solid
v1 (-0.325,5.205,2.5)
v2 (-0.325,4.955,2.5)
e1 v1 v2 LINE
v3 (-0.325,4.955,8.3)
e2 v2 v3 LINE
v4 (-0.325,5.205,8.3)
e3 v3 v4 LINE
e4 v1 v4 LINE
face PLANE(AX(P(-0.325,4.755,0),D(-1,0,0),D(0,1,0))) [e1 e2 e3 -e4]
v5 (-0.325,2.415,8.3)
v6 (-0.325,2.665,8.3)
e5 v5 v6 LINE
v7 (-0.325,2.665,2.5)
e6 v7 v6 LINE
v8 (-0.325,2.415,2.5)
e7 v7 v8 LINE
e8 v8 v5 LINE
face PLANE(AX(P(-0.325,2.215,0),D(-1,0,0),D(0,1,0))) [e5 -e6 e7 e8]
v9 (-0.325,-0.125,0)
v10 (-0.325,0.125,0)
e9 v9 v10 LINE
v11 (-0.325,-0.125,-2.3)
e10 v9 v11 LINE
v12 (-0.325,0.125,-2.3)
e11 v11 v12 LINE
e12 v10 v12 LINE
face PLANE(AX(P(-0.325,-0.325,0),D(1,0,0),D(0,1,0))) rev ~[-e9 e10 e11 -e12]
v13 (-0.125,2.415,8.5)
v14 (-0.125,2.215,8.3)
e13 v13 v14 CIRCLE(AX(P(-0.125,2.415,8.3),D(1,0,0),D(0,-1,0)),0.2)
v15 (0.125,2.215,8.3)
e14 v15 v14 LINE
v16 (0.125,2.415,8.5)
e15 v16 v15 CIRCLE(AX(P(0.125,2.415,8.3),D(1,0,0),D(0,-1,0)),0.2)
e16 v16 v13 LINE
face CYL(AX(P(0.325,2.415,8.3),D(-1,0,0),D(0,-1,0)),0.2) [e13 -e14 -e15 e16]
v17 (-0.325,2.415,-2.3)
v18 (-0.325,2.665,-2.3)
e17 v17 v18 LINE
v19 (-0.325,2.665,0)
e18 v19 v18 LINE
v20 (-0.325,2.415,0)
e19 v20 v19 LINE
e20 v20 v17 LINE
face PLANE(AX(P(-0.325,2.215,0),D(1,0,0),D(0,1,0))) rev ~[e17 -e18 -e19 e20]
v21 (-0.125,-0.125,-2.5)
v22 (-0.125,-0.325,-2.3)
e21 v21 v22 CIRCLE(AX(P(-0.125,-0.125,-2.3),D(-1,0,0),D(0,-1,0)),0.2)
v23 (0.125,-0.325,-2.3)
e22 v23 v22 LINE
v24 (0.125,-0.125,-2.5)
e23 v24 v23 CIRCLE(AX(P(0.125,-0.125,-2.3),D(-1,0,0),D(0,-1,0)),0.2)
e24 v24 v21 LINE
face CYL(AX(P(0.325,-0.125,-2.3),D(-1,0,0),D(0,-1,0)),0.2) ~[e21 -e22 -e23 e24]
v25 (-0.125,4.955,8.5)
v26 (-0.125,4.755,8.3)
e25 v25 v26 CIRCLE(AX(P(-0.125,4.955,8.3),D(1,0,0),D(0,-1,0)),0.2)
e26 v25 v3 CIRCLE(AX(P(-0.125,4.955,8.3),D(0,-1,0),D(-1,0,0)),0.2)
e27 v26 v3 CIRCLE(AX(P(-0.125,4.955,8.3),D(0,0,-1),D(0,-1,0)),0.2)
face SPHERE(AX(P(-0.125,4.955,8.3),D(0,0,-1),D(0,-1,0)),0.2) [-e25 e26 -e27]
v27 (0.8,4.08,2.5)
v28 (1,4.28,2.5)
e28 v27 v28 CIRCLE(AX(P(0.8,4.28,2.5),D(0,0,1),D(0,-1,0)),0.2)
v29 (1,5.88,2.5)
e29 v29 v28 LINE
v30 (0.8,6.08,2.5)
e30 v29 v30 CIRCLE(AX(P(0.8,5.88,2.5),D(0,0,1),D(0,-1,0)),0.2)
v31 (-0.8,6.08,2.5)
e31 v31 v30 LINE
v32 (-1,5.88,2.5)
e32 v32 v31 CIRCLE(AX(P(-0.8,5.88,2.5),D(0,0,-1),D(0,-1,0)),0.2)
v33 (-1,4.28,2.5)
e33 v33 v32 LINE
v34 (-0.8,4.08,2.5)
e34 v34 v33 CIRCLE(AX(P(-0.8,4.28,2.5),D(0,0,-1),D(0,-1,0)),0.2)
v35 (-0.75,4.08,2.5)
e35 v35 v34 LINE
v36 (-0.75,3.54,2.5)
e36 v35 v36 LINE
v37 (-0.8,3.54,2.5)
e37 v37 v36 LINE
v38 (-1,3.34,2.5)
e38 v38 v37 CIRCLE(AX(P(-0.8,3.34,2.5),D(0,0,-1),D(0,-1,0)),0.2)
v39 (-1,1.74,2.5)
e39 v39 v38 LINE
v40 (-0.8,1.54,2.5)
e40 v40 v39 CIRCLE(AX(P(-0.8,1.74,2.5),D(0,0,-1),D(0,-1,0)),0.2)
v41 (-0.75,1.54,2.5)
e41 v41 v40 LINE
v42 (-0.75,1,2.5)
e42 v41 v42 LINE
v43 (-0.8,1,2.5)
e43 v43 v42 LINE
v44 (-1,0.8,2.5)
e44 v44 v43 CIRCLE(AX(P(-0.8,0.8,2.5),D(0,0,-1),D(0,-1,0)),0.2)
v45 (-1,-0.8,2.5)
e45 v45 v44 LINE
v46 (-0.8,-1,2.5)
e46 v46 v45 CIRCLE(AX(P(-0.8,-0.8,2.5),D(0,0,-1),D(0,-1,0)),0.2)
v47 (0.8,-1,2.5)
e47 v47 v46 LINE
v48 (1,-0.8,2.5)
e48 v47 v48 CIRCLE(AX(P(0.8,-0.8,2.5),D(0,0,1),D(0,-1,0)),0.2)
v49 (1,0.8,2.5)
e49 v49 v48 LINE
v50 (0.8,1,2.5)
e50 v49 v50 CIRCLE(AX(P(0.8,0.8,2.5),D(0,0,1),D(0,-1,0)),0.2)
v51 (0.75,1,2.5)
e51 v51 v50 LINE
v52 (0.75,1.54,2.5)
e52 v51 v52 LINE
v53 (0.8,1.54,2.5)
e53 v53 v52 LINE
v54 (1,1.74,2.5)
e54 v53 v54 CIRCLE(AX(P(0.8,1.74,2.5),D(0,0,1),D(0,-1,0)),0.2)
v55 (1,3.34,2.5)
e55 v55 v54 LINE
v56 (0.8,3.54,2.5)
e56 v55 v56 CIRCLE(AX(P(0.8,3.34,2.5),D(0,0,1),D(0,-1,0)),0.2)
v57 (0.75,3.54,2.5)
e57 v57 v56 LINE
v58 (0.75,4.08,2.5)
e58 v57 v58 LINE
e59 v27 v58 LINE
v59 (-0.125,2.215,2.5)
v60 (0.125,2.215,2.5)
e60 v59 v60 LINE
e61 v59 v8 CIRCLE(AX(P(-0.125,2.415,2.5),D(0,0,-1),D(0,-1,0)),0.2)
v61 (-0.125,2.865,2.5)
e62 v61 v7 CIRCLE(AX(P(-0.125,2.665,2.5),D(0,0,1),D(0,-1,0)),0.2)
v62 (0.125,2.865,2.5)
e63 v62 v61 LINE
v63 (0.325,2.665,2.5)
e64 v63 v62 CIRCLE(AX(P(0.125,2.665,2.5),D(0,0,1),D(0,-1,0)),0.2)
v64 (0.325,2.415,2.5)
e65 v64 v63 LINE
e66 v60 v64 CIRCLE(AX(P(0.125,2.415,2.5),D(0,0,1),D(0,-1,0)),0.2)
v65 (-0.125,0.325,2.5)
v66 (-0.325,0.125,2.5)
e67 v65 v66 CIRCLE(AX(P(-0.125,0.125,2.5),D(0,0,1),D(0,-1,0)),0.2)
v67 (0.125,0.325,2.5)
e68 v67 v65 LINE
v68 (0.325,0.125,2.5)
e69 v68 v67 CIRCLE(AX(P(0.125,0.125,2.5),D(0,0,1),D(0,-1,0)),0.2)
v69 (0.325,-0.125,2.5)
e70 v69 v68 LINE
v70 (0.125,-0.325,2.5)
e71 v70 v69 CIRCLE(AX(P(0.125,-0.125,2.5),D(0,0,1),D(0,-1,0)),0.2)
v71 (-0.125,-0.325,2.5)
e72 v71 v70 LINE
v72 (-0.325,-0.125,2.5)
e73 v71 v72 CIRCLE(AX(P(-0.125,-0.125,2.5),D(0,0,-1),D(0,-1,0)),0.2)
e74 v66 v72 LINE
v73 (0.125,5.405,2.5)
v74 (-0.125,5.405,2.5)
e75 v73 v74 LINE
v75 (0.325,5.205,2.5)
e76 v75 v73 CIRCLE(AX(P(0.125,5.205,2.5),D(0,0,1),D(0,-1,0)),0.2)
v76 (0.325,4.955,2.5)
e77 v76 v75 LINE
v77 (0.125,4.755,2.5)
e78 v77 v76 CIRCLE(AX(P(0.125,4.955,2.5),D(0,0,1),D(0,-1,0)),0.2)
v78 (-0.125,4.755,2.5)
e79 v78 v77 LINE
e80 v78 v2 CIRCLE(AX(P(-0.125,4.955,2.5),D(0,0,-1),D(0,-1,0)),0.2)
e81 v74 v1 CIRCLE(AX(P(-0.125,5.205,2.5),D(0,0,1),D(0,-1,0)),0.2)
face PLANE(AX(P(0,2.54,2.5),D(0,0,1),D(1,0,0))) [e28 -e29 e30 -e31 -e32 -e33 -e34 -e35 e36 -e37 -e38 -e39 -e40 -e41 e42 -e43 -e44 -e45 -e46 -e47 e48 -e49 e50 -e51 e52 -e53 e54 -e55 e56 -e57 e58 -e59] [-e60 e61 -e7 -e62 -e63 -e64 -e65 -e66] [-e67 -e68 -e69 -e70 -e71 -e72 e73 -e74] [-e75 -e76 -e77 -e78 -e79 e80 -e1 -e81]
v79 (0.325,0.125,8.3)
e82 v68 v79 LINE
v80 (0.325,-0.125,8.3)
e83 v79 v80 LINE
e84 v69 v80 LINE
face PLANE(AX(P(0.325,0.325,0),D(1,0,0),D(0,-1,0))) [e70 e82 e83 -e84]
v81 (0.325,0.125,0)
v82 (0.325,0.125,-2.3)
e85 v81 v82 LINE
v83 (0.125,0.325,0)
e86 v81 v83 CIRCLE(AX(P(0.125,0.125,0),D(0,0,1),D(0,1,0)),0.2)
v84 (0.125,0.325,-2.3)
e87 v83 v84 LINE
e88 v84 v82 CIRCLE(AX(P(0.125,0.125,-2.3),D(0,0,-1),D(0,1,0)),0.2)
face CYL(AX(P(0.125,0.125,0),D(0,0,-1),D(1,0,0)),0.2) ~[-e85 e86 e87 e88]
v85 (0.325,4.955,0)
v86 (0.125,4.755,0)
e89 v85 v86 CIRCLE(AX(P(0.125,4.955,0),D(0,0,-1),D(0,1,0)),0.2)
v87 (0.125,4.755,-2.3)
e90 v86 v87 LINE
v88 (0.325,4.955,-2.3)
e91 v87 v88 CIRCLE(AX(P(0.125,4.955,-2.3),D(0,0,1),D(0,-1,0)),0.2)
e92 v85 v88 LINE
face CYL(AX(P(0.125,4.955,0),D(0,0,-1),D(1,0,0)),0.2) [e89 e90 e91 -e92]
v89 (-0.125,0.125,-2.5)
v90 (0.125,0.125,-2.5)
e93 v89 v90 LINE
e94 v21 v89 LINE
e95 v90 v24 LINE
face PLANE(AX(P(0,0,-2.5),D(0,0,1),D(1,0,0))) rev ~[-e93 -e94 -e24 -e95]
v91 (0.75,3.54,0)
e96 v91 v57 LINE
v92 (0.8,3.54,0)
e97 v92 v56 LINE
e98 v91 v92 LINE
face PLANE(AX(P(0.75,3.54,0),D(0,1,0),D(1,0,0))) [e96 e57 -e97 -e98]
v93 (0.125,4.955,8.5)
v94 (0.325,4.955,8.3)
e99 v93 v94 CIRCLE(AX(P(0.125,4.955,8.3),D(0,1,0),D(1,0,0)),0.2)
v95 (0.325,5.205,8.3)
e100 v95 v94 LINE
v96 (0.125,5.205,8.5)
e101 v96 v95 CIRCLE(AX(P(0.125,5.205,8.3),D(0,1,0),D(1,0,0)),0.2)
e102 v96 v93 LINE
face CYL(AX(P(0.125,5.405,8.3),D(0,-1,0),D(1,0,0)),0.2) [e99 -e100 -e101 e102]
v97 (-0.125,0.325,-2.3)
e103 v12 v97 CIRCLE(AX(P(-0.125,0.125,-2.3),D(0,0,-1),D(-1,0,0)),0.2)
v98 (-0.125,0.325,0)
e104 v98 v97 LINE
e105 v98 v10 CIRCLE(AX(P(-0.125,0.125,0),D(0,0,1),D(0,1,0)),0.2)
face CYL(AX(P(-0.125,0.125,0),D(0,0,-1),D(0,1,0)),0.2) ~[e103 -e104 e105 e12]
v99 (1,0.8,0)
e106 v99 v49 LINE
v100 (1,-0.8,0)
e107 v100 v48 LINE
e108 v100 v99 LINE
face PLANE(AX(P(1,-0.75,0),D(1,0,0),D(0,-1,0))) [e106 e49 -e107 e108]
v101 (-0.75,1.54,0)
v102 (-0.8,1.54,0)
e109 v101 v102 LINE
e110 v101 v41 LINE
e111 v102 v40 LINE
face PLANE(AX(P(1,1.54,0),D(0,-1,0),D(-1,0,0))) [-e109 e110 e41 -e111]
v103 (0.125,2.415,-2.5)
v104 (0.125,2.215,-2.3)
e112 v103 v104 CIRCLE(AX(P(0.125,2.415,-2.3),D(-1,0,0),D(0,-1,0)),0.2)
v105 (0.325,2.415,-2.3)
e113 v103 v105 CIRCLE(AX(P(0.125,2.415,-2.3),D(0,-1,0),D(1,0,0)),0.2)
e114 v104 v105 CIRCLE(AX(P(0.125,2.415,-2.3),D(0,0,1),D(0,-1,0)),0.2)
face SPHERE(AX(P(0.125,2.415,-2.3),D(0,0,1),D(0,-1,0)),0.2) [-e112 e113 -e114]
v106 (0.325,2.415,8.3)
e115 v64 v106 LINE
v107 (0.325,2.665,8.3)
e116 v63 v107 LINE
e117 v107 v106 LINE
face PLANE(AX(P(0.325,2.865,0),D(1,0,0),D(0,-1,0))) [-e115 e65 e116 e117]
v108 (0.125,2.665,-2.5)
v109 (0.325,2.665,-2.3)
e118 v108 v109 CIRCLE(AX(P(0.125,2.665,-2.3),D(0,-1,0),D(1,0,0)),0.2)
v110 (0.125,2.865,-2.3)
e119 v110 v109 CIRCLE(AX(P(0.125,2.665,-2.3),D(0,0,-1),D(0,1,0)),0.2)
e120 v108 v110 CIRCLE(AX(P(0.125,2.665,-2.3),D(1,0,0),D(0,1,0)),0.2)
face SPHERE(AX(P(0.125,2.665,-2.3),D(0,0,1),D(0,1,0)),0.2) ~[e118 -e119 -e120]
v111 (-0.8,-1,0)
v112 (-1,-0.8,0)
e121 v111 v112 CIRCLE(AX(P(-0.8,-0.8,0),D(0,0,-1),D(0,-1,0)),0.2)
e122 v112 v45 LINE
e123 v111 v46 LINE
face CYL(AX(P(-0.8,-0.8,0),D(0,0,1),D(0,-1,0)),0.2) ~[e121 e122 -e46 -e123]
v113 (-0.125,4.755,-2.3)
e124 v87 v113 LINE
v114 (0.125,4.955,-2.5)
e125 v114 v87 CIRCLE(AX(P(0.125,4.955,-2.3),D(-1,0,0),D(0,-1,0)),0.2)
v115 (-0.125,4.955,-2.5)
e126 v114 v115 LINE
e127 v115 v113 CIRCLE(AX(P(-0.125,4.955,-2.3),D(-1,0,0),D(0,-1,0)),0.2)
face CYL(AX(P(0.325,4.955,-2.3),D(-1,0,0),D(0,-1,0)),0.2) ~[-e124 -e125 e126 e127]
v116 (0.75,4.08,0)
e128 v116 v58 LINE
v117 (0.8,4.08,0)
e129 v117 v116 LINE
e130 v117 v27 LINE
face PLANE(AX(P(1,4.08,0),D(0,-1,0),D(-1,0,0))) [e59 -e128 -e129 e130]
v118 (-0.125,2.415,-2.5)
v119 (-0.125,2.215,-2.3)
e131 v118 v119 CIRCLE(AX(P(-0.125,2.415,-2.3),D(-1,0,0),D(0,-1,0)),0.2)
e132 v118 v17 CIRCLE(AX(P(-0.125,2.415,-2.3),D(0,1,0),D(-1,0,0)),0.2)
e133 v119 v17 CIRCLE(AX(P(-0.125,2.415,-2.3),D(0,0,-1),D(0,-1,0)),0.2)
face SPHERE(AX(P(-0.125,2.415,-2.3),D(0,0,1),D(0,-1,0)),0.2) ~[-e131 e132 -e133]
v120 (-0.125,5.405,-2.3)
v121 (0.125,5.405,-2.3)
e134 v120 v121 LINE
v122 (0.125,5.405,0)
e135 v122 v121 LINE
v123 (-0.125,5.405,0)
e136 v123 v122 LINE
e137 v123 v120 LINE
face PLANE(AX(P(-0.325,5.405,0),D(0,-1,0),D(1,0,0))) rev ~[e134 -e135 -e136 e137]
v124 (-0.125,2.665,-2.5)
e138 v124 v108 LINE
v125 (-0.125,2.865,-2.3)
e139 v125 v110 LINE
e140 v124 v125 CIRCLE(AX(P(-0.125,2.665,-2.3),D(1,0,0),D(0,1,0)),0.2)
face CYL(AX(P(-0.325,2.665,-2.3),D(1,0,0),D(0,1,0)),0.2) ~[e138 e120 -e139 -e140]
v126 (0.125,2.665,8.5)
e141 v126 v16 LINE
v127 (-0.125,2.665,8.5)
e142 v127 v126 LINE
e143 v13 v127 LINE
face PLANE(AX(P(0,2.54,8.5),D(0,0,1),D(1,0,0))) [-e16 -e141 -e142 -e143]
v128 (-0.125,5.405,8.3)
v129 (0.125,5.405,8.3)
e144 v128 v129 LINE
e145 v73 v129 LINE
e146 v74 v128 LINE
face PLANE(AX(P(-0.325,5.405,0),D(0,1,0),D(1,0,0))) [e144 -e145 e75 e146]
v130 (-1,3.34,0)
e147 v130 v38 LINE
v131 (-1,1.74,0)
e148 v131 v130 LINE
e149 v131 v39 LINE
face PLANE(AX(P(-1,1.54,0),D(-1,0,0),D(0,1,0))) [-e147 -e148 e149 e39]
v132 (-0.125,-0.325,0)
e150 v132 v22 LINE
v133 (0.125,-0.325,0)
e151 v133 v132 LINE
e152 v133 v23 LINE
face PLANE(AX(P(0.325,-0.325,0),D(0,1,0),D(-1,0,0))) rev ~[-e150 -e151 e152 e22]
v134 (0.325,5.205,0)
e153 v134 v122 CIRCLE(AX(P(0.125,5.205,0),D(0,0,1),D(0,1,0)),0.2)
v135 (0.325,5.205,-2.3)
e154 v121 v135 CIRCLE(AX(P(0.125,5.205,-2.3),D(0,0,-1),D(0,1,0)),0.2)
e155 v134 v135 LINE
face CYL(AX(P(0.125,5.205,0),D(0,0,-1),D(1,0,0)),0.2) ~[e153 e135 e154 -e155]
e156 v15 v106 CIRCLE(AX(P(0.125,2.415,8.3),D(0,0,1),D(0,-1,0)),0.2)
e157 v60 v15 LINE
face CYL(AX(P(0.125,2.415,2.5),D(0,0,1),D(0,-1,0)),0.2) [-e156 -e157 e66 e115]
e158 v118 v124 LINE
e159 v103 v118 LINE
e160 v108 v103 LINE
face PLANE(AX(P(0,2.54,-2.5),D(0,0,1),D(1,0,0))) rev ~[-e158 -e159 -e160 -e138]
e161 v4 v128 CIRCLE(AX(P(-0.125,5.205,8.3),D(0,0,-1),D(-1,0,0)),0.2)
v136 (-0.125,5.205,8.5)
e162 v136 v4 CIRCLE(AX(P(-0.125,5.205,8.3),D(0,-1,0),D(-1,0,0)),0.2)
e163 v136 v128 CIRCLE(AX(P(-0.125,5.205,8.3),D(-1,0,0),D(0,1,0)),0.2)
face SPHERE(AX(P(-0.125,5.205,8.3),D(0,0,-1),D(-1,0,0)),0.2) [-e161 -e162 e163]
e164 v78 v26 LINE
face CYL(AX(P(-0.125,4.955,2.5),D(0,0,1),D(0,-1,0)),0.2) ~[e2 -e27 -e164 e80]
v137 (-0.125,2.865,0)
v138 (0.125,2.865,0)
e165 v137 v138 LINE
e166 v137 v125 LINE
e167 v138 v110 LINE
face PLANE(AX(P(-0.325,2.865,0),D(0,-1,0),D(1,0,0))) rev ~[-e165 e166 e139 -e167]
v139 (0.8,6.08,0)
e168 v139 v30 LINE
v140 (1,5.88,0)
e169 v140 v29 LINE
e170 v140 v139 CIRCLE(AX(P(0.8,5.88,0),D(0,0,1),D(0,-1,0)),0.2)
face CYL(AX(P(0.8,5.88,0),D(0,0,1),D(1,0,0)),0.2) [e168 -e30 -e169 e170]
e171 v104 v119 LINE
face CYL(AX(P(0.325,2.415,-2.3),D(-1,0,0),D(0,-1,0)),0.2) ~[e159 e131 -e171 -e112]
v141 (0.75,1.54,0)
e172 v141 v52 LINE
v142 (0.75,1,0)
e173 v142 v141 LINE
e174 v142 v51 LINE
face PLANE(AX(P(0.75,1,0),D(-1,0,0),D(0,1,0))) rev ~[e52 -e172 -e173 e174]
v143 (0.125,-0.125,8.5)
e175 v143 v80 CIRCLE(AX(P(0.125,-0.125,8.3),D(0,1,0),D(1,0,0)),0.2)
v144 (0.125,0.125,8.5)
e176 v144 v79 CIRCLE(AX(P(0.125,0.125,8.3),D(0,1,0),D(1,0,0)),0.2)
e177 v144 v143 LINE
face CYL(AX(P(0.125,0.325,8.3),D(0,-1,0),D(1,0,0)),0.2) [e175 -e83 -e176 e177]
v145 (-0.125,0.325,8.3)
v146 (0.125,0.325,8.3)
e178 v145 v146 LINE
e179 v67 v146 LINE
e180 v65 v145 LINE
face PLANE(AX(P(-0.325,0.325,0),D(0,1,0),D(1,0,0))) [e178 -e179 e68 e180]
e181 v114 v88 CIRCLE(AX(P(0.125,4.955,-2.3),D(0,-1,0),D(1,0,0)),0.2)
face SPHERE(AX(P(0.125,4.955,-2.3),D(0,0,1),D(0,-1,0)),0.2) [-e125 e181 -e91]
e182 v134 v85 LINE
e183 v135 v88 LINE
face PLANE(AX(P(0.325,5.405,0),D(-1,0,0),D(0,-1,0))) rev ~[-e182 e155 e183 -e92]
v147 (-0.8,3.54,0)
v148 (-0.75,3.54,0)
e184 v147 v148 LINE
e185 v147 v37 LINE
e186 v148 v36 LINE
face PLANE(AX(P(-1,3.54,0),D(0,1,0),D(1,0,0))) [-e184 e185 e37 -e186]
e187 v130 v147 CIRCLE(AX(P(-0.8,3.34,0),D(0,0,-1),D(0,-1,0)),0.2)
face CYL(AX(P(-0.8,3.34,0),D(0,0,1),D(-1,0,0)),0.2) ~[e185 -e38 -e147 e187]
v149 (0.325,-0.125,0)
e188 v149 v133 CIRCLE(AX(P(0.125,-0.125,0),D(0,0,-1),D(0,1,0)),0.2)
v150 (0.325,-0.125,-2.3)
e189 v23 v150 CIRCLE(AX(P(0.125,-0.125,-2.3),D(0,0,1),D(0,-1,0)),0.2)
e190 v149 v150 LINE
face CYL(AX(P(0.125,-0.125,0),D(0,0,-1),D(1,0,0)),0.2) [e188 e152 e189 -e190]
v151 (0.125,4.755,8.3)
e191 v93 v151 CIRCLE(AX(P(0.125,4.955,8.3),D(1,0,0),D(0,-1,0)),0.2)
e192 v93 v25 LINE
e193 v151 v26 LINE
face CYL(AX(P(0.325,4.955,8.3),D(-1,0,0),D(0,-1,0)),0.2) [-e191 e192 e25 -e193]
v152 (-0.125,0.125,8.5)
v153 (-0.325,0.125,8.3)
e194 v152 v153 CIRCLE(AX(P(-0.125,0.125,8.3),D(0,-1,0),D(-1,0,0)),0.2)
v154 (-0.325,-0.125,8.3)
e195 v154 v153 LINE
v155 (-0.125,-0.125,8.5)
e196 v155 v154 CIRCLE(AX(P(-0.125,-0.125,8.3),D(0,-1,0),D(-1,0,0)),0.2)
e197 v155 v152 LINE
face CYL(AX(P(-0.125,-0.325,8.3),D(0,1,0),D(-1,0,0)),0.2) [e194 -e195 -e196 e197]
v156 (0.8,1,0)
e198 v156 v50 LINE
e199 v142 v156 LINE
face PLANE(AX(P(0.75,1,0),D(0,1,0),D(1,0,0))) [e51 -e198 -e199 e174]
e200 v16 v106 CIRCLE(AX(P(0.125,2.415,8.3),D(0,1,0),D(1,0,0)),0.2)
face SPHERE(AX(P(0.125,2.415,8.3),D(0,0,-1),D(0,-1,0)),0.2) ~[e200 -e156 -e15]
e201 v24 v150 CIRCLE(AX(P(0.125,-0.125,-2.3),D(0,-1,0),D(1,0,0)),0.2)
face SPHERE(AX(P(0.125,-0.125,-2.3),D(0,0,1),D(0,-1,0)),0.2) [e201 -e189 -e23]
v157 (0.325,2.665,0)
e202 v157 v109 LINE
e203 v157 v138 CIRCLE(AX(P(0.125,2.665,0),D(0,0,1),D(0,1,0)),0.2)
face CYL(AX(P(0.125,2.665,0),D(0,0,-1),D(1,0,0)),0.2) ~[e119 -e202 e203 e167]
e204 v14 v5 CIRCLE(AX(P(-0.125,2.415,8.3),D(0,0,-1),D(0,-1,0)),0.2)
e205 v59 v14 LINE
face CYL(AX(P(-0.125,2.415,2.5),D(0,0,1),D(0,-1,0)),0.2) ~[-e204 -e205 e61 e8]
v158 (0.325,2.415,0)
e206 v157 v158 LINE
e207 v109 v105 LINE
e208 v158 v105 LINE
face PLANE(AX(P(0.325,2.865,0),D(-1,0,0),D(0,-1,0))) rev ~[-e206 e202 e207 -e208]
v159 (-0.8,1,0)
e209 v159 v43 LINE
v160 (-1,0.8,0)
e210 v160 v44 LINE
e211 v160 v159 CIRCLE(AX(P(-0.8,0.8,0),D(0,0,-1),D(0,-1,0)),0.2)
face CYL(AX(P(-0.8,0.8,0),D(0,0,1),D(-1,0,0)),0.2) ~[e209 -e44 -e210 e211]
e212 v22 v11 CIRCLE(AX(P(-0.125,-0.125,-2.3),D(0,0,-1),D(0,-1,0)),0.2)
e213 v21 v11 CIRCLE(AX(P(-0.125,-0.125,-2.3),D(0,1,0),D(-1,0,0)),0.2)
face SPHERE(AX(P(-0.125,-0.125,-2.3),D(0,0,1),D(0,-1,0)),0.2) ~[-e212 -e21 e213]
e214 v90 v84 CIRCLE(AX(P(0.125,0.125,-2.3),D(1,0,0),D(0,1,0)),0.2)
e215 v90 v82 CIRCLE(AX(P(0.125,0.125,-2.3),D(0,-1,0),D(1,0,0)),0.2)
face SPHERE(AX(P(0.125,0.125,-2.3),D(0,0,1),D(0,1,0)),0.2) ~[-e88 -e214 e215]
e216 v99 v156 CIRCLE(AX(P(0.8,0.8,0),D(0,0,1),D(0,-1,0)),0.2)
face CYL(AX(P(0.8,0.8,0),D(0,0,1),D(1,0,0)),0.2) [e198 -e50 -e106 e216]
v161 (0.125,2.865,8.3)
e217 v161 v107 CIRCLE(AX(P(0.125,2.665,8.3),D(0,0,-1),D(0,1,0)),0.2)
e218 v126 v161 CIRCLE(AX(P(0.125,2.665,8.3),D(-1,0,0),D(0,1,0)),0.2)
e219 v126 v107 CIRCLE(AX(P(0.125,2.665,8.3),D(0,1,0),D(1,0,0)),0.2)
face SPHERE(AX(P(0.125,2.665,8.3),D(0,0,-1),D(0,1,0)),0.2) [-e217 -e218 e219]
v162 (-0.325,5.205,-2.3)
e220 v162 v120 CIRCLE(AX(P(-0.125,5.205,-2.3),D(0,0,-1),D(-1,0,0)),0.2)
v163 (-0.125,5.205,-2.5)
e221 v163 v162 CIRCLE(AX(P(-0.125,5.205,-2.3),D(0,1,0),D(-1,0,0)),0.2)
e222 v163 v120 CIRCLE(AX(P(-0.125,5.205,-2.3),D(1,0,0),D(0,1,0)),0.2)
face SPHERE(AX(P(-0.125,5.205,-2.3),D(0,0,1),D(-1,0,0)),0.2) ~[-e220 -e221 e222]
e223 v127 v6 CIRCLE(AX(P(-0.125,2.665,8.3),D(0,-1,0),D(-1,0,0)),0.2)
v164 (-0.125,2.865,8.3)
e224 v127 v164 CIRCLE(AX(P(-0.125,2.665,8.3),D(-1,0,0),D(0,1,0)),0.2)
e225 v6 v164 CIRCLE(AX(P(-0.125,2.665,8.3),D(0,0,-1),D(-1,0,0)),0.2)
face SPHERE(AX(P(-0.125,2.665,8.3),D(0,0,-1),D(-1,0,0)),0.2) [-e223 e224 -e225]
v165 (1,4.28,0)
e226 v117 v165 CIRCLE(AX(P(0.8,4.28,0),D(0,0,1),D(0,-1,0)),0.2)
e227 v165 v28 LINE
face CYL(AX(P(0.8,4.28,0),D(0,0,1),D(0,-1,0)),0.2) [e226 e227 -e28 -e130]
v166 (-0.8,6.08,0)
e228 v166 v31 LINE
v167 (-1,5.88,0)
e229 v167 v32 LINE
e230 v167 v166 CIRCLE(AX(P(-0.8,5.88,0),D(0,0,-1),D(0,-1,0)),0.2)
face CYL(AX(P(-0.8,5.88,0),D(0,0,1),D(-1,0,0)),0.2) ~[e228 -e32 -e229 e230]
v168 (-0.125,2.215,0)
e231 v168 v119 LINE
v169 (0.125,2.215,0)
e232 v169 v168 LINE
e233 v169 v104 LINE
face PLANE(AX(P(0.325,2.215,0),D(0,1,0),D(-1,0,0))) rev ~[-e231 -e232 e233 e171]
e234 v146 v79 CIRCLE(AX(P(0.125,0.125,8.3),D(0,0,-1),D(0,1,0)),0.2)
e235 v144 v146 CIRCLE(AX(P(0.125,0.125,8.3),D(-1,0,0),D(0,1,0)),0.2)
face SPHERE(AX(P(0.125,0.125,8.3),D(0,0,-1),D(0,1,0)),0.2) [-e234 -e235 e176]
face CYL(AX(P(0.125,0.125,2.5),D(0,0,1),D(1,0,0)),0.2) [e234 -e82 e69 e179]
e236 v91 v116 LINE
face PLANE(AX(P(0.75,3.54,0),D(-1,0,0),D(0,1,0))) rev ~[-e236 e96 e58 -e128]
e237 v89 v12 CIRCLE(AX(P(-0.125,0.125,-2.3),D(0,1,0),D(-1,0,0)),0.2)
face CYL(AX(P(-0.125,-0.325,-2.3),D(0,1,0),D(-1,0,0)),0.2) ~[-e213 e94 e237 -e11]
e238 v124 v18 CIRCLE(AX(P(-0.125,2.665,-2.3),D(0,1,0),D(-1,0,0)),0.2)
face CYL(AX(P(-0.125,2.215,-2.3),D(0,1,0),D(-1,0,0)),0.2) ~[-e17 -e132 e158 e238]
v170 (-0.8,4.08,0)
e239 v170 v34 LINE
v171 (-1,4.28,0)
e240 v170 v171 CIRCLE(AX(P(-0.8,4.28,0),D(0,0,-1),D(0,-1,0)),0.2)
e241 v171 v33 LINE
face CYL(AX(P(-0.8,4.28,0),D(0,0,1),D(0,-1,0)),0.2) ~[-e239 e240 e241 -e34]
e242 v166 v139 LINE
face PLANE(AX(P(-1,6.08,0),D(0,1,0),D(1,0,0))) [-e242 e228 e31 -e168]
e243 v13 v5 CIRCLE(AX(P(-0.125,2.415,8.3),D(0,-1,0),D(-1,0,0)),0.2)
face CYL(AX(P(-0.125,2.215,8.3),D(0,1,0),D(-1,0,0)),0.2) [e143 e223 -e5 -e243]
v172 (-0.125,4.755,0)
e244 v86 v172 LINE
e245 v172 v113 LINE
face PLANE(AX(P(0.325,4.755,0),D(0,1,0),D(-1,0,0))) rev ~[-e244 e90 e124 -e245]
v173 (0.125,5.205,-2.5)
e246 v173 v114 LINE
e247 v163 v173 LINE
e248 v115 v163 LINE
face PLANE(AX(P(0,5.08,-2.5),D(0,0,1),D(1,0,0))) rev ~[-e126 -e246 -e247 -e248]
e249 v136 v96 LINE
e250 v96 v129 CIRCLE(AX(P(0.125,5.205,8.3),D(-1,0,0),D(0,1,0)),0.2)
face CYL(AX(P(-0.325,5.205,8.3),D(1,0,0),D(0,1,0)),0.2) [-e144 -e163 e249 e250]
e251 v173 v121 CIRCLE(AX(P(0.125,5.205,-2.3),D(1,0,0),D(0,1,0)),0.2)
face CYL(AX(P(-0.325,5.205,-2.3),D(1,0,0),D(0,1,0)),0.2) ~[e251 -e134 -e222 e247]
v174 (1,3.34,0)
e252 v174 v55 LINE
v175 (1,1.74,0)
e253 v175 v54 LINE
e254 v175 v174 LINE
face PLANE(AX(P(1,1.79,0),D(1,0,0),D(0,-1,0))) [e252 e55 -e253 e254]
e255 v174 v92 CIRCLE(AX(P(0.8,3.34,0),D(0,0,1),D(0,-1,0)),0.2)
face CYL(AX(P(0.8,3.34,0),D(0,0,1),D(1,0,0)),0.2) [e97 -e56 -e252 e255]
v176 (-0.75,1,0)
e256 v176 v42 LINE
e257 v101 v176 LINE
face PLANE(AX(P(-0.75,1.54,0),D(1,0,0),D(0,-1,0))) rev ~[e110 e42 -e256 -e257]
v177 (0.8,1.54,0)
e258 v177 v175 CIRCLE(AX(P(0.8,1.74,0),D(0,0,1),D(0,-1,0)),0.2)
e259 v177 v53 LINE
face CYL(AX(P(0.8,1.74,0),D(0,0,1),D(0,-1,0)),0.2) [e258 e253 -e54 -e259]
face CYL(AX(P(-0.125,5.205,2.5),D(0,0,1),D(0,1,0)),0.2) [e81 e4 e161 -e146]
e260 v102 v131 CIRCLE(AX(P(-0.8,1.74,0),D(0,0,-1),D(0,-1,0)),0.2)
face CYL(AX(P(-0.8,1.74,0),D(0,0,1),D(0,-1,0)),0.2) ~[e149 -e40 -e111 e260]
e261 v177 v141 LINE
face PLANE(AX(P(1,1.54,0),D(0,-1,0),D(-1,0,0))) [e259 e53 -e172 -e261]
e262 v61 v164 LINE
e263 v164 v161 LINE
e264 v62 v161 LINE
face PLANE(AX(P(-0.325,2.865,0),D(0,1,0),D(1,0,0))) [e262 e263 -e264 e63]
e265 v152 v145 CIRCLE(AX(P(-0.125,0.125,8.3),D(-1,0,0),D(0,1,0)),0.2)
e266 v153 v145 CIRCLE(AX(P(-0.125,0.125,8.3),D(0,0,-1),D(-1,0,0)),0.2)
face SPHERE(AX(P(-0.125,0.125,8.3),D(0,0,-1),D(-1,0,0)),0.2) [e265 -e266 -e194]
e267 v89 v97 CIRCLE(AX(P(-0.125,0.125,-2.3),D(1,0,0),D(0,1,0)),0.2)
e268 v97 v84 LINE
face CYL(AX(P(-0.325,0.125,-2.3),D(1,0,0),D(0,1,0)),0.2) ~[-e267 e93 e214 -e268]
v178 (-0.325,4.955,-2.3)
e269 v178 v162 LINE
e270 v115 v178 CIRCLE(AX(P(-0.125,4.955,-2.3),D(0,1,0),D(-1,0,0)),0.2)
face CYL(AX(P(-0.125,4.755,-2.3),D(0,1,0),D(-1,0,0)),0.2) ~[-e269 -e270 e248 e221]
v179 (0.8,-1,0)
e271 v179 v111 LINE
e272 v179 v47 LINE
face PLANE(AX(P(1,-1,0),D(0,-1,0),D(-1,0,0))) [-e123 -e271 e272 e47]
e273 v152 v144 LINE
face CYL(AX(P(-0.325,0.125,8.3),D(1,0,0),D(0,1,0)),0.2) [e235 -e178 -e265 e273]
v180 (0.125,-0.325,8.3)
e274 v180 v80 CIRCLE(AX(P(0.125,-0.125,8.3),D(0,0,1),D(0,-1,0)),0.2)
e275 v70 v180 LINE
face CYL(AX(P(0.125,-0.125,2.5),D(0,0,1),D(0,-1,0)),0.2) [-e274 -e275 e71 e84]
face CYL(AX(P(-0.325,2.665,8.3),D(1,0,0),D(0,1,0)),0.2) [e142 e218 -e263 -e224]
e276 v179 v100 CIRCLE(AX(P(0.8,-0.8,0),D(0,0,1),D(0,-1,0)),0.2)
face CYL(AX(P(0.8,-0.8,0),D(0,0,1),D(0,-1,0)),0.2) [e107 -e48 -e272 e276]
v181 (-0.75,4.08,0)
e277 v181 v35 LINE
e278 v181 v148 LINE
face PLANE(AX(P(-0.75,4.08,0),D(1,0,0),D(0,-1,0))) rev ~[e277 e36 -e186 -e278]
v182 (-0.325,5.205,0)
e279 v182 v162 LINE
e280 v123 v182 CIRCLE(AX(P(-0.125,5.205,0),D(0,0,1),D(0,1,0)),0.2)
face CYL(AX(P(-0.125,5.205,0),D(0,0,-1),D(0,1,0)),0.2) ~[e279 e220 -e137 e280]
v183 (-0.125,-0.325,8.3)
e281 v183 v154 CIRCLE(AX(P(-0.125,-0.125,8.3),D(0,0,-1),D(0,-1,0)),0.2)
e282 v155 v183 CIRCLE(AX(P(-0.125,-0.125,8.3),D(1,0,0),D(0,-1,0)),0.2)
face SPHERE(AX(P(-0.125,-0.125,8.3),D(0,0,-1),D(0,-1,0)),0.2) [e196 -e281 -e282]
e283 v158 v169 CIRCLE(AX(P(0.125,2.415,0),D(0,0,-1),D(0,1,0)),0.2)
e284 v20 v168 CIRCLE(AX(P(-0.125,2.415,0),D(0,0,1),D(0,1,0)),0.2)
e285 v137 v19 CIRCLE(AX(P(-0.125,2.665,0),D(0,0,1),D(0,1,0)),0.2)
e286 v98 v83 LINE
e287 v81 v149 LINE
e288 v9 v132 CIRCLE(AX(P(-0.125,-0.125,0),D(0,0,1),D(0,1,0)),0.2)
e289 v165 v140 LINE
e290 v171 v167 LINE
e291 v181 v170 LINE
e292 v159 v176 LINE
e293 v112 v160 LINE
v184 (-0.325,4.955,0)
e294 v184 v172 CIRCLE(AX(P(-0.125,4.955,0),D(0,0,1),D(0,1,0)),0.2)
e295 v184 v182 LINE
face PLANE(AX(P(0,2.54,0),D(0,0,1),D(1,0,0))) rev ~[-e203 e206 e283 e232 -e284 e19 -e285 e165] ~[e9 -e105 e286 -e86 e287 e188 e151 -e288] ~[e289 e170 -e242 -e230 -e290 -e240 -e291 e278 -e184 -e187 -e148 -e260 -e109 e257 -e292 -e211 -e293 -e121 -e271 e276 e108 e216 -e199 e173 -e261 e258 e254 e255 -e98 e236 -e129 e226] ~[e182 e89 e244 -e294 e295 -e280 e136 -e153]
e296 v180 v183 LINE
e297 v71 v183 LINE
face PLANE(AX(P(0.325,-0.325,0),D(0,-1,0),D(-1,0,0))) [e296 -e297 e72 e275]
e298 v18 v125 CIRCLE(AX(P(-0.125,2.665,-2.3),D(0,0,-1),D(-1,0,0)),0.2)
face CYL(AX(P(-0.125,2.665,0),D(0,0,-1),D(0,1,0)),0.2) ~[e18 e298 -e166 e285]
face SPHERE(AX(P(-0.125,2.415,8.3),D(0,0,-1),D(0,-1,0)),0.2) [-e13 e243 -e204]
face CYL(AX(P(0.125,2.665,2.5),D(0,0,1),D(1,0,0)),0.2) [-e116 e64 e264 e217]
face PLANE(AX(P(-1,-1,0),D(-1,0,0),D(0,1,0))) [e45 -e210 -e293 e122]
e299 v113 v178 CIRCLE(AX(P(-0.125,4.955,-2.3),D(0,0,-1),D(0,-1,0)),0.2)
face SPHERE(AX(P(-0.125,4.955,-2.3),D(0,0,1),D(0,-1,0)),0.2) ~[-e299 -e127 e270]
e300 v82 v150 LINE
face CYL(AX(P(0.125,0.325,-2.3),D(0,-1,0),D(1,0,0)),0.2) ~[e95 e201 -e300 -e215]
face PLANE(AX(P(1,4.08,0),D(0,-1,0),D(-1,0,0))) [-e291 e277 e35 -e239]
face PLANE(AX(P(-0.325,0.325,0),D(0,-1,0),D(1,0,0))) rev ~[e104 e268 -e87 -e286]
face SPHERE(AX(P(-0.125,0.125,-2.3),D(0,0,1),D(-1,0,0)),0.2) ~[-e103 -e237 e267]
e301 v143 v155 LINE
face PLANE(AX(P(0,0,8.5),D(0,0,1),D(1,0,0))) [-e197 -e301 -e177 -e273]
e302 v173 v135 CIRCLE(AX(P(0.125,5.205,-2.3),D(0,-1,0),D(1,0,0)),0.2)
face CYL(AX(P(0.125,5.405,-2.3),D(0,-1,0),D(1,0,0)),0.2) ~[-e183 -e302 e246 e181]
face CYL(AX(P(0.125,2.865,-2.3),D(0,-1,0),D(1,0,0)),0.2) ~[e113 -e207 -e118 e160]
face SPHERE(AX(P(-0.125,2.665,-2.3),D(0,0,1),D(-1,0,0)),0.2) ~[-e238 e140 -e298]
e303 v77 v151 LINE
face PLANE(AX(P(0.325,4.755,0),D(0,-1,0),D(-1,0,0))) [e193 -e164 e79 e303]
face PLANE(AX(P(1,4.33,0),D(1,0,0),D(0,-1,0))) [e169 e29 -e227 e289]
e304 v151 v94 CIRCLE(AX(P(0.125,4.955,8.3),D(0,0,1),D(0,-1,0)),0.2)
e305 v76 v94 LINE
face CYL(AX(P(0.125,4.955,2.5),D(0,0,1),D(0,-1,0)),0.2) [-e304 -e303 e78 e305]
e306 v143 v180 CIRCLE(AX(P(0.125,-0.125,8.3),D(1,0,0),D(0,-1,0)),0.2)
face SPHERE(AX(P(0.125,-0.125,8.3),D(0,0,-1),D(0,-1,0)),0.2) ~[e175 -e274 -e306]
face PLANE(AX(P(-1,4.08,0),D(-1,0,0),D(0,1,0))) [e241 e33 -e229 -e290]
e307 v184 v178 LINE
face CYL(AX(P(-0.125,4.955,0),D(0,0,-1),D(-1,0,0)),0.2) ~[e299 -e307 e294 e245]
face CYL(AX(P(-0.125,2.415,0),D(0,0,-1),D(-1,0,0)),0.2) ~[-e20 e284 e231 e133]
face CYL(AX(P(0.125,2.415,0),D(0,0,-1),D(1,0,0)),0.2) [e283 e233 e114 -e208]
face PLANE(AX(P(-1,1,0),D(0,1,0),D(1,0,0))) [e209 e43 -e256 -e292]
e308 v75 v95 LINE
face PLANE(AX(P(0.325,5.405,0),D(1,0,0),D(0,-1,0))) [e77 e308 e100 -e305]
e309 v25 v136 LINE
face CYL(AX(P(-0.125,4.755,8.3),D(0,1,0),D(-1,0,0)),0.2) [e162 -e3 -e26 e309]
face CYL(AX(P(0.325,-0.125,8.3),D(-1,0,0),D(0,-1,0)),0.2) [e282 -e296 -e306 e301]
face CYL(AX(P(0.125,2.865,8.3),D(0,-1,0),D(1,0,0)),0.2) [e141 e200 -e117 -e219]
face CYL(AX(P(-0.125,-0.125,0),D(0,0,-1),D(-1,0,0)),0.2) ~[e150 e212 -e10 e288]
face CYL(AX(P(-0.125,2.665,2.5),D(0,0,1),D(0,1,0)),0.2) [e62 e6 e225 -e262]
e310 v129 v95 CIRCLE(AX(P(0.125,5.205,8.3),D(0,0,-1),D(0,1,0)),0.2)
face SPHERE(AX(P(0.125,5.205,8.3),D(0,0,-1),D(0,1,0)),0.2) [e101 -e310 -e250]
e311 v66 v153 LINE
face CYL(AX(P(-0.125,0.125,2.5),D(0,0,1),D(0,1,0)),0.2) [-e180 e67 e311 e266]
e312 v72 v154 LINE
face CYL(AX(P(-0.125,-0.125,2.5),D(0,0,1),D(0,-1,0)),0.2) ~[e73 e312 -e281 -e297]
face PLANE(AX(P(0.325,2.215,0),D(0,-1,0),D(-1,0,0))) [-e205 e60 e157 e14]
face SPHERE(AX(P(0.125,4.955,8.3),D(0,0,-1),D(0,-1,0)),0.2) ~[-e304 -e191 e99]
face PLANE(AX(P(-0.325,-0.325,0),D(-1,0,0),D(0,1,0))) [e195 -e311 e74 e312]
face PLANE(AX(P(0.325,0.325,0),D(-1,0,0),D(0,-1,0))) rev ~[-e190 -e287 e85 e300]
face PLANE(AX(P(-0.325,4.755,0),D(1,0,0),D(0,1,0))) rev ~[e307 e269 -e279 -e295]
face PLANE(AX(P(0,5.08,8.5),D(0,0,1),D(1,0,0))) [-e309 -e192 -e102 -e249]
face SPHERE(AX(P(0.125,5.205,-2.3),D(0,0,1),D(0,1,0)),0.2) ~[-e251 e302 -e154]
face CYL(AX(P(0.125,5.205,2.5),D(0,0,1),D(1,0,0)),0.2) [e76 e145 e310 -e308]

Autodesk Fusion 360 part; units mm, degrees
sketch "Sketch1" plane through (0, 0, 0) normal (0, 0, 1) x (1, 0, 0)
  line L0 (1, -1) -> (-1, -1)
  line L1 (-1, -1) -> (-1, 1)
  line L2 (-1, 1) -> (1, 1)
  line L3 (1, 1) -> (1, -1)
  line L4 (1, -1) -> (-1, 1) construction
  line L5 (-1, -1) -> (1, 1) construction
  line L6 (0.325, -0.325) -> (-0.325, -0.325)
  line L7 (-0.325, -0.325) -> (-0.325, 0.325)
  line L8 (-0.325, 0.325) -> (0.325, 0.325)
  line L9 (0.325, 0.325) -> (0.325, -0.325)
  line L10 (0.325, -0.325) -> (-0.325, 0.325) construction
  line L11 (-0.325, -0.325) -> (0.325, 0.325) construction
  line L12 (1, 0.75) -> (1.54, 0.75)
  line L13 (1.54, 0.75) -> (1.54, -0.75)
  line L14 (1.54, -0.75) -> (1, -0.75)
  line L15 (1, -0.75) -> (1, 0.75)
  line L16 (-0.75, 1) -> (0.75, 1)
  line L17 (0.75, 1) -> (0.75, 1.54)
  line L18 (0.75, 1.54) -> (-0.75, 1.54)
  line L19 (-0.75, 1.54) -> (-0.75, 1)
  line L20 (0.75, 1.54) -> (1.54, 1.54)
  line L21 (1.54, 1.54) -> (1.54, 0.75)
  dimension "d1" = 2
  dimension "d2" = 2
  dimension "d5" = 0.65
  dimension "d6" = 0.65
  dimension "d13" = 0.54
  dimension "d14" = 0.25
  dimension "d15" = 0.25
  dimension "d16" = 0.54
  dimension "d17" = 0.25
  dimension "d18" = 0.25
extrude "Extrude1" add sketch "Sketch1" along normal blind 2.5 contours L0 L1 L2 L3 L15 L16 | L2 L16 L17 L18 L19 | L6 L7 L8 L9 makes body 1
extrude "Extrude2" add sketch "Sketch1" along normal blind 8.5 contours L6 L7 L8 L9 bodies 1
extrude "Extrude3" add sketch "Sketch1" against normal blind 2.5 contours L6 L7 L8 L9 bodies 1
fillet "Fillet1" radius 0.2 12 edges at (-0.325, -0.325, 5.5) (0.325, -0.325, 5.5) (-0.325, 0.325, 5.5) (0.325, 0.325, 5.5) (-1, -1, 1.25) (-1, 1, 1.25) (1, -1, 1.25) (-0.325, -0.325, -1.25) (-0.325, 0.325, -1.25) (0.325, -0.325, -1.25) (0.325, 0.325, -1.25) (1, 1, 1.25) 2 faces at (0.1083, -0.1083, 8.5) (0.1083, -0.1083, -2.5) on bodies 1
pattern_linear "R-Pattern9" count 3 spacing 2.54 along (0, 1, 0) of bodies 1 makes body 2 at (-0.775, 2.5817, 0) makes body 3 at (-0.775, 5.1217, 0)
extrude "Extrude12" cut 1 faces at (0.25, 6.62, 0.8333) along direction (0, -1, 0) blind 0.54 on bodies 3 bodies 3
combine "Combine3" operation add target body 1 tool bodies 2 3
equation "d15 = d14"
equation "d17 = d14"
equation "d18 = d15"
equation "width = 1"
equation "length = 3"
equation "d69 = length"
equation "d70 = width"
